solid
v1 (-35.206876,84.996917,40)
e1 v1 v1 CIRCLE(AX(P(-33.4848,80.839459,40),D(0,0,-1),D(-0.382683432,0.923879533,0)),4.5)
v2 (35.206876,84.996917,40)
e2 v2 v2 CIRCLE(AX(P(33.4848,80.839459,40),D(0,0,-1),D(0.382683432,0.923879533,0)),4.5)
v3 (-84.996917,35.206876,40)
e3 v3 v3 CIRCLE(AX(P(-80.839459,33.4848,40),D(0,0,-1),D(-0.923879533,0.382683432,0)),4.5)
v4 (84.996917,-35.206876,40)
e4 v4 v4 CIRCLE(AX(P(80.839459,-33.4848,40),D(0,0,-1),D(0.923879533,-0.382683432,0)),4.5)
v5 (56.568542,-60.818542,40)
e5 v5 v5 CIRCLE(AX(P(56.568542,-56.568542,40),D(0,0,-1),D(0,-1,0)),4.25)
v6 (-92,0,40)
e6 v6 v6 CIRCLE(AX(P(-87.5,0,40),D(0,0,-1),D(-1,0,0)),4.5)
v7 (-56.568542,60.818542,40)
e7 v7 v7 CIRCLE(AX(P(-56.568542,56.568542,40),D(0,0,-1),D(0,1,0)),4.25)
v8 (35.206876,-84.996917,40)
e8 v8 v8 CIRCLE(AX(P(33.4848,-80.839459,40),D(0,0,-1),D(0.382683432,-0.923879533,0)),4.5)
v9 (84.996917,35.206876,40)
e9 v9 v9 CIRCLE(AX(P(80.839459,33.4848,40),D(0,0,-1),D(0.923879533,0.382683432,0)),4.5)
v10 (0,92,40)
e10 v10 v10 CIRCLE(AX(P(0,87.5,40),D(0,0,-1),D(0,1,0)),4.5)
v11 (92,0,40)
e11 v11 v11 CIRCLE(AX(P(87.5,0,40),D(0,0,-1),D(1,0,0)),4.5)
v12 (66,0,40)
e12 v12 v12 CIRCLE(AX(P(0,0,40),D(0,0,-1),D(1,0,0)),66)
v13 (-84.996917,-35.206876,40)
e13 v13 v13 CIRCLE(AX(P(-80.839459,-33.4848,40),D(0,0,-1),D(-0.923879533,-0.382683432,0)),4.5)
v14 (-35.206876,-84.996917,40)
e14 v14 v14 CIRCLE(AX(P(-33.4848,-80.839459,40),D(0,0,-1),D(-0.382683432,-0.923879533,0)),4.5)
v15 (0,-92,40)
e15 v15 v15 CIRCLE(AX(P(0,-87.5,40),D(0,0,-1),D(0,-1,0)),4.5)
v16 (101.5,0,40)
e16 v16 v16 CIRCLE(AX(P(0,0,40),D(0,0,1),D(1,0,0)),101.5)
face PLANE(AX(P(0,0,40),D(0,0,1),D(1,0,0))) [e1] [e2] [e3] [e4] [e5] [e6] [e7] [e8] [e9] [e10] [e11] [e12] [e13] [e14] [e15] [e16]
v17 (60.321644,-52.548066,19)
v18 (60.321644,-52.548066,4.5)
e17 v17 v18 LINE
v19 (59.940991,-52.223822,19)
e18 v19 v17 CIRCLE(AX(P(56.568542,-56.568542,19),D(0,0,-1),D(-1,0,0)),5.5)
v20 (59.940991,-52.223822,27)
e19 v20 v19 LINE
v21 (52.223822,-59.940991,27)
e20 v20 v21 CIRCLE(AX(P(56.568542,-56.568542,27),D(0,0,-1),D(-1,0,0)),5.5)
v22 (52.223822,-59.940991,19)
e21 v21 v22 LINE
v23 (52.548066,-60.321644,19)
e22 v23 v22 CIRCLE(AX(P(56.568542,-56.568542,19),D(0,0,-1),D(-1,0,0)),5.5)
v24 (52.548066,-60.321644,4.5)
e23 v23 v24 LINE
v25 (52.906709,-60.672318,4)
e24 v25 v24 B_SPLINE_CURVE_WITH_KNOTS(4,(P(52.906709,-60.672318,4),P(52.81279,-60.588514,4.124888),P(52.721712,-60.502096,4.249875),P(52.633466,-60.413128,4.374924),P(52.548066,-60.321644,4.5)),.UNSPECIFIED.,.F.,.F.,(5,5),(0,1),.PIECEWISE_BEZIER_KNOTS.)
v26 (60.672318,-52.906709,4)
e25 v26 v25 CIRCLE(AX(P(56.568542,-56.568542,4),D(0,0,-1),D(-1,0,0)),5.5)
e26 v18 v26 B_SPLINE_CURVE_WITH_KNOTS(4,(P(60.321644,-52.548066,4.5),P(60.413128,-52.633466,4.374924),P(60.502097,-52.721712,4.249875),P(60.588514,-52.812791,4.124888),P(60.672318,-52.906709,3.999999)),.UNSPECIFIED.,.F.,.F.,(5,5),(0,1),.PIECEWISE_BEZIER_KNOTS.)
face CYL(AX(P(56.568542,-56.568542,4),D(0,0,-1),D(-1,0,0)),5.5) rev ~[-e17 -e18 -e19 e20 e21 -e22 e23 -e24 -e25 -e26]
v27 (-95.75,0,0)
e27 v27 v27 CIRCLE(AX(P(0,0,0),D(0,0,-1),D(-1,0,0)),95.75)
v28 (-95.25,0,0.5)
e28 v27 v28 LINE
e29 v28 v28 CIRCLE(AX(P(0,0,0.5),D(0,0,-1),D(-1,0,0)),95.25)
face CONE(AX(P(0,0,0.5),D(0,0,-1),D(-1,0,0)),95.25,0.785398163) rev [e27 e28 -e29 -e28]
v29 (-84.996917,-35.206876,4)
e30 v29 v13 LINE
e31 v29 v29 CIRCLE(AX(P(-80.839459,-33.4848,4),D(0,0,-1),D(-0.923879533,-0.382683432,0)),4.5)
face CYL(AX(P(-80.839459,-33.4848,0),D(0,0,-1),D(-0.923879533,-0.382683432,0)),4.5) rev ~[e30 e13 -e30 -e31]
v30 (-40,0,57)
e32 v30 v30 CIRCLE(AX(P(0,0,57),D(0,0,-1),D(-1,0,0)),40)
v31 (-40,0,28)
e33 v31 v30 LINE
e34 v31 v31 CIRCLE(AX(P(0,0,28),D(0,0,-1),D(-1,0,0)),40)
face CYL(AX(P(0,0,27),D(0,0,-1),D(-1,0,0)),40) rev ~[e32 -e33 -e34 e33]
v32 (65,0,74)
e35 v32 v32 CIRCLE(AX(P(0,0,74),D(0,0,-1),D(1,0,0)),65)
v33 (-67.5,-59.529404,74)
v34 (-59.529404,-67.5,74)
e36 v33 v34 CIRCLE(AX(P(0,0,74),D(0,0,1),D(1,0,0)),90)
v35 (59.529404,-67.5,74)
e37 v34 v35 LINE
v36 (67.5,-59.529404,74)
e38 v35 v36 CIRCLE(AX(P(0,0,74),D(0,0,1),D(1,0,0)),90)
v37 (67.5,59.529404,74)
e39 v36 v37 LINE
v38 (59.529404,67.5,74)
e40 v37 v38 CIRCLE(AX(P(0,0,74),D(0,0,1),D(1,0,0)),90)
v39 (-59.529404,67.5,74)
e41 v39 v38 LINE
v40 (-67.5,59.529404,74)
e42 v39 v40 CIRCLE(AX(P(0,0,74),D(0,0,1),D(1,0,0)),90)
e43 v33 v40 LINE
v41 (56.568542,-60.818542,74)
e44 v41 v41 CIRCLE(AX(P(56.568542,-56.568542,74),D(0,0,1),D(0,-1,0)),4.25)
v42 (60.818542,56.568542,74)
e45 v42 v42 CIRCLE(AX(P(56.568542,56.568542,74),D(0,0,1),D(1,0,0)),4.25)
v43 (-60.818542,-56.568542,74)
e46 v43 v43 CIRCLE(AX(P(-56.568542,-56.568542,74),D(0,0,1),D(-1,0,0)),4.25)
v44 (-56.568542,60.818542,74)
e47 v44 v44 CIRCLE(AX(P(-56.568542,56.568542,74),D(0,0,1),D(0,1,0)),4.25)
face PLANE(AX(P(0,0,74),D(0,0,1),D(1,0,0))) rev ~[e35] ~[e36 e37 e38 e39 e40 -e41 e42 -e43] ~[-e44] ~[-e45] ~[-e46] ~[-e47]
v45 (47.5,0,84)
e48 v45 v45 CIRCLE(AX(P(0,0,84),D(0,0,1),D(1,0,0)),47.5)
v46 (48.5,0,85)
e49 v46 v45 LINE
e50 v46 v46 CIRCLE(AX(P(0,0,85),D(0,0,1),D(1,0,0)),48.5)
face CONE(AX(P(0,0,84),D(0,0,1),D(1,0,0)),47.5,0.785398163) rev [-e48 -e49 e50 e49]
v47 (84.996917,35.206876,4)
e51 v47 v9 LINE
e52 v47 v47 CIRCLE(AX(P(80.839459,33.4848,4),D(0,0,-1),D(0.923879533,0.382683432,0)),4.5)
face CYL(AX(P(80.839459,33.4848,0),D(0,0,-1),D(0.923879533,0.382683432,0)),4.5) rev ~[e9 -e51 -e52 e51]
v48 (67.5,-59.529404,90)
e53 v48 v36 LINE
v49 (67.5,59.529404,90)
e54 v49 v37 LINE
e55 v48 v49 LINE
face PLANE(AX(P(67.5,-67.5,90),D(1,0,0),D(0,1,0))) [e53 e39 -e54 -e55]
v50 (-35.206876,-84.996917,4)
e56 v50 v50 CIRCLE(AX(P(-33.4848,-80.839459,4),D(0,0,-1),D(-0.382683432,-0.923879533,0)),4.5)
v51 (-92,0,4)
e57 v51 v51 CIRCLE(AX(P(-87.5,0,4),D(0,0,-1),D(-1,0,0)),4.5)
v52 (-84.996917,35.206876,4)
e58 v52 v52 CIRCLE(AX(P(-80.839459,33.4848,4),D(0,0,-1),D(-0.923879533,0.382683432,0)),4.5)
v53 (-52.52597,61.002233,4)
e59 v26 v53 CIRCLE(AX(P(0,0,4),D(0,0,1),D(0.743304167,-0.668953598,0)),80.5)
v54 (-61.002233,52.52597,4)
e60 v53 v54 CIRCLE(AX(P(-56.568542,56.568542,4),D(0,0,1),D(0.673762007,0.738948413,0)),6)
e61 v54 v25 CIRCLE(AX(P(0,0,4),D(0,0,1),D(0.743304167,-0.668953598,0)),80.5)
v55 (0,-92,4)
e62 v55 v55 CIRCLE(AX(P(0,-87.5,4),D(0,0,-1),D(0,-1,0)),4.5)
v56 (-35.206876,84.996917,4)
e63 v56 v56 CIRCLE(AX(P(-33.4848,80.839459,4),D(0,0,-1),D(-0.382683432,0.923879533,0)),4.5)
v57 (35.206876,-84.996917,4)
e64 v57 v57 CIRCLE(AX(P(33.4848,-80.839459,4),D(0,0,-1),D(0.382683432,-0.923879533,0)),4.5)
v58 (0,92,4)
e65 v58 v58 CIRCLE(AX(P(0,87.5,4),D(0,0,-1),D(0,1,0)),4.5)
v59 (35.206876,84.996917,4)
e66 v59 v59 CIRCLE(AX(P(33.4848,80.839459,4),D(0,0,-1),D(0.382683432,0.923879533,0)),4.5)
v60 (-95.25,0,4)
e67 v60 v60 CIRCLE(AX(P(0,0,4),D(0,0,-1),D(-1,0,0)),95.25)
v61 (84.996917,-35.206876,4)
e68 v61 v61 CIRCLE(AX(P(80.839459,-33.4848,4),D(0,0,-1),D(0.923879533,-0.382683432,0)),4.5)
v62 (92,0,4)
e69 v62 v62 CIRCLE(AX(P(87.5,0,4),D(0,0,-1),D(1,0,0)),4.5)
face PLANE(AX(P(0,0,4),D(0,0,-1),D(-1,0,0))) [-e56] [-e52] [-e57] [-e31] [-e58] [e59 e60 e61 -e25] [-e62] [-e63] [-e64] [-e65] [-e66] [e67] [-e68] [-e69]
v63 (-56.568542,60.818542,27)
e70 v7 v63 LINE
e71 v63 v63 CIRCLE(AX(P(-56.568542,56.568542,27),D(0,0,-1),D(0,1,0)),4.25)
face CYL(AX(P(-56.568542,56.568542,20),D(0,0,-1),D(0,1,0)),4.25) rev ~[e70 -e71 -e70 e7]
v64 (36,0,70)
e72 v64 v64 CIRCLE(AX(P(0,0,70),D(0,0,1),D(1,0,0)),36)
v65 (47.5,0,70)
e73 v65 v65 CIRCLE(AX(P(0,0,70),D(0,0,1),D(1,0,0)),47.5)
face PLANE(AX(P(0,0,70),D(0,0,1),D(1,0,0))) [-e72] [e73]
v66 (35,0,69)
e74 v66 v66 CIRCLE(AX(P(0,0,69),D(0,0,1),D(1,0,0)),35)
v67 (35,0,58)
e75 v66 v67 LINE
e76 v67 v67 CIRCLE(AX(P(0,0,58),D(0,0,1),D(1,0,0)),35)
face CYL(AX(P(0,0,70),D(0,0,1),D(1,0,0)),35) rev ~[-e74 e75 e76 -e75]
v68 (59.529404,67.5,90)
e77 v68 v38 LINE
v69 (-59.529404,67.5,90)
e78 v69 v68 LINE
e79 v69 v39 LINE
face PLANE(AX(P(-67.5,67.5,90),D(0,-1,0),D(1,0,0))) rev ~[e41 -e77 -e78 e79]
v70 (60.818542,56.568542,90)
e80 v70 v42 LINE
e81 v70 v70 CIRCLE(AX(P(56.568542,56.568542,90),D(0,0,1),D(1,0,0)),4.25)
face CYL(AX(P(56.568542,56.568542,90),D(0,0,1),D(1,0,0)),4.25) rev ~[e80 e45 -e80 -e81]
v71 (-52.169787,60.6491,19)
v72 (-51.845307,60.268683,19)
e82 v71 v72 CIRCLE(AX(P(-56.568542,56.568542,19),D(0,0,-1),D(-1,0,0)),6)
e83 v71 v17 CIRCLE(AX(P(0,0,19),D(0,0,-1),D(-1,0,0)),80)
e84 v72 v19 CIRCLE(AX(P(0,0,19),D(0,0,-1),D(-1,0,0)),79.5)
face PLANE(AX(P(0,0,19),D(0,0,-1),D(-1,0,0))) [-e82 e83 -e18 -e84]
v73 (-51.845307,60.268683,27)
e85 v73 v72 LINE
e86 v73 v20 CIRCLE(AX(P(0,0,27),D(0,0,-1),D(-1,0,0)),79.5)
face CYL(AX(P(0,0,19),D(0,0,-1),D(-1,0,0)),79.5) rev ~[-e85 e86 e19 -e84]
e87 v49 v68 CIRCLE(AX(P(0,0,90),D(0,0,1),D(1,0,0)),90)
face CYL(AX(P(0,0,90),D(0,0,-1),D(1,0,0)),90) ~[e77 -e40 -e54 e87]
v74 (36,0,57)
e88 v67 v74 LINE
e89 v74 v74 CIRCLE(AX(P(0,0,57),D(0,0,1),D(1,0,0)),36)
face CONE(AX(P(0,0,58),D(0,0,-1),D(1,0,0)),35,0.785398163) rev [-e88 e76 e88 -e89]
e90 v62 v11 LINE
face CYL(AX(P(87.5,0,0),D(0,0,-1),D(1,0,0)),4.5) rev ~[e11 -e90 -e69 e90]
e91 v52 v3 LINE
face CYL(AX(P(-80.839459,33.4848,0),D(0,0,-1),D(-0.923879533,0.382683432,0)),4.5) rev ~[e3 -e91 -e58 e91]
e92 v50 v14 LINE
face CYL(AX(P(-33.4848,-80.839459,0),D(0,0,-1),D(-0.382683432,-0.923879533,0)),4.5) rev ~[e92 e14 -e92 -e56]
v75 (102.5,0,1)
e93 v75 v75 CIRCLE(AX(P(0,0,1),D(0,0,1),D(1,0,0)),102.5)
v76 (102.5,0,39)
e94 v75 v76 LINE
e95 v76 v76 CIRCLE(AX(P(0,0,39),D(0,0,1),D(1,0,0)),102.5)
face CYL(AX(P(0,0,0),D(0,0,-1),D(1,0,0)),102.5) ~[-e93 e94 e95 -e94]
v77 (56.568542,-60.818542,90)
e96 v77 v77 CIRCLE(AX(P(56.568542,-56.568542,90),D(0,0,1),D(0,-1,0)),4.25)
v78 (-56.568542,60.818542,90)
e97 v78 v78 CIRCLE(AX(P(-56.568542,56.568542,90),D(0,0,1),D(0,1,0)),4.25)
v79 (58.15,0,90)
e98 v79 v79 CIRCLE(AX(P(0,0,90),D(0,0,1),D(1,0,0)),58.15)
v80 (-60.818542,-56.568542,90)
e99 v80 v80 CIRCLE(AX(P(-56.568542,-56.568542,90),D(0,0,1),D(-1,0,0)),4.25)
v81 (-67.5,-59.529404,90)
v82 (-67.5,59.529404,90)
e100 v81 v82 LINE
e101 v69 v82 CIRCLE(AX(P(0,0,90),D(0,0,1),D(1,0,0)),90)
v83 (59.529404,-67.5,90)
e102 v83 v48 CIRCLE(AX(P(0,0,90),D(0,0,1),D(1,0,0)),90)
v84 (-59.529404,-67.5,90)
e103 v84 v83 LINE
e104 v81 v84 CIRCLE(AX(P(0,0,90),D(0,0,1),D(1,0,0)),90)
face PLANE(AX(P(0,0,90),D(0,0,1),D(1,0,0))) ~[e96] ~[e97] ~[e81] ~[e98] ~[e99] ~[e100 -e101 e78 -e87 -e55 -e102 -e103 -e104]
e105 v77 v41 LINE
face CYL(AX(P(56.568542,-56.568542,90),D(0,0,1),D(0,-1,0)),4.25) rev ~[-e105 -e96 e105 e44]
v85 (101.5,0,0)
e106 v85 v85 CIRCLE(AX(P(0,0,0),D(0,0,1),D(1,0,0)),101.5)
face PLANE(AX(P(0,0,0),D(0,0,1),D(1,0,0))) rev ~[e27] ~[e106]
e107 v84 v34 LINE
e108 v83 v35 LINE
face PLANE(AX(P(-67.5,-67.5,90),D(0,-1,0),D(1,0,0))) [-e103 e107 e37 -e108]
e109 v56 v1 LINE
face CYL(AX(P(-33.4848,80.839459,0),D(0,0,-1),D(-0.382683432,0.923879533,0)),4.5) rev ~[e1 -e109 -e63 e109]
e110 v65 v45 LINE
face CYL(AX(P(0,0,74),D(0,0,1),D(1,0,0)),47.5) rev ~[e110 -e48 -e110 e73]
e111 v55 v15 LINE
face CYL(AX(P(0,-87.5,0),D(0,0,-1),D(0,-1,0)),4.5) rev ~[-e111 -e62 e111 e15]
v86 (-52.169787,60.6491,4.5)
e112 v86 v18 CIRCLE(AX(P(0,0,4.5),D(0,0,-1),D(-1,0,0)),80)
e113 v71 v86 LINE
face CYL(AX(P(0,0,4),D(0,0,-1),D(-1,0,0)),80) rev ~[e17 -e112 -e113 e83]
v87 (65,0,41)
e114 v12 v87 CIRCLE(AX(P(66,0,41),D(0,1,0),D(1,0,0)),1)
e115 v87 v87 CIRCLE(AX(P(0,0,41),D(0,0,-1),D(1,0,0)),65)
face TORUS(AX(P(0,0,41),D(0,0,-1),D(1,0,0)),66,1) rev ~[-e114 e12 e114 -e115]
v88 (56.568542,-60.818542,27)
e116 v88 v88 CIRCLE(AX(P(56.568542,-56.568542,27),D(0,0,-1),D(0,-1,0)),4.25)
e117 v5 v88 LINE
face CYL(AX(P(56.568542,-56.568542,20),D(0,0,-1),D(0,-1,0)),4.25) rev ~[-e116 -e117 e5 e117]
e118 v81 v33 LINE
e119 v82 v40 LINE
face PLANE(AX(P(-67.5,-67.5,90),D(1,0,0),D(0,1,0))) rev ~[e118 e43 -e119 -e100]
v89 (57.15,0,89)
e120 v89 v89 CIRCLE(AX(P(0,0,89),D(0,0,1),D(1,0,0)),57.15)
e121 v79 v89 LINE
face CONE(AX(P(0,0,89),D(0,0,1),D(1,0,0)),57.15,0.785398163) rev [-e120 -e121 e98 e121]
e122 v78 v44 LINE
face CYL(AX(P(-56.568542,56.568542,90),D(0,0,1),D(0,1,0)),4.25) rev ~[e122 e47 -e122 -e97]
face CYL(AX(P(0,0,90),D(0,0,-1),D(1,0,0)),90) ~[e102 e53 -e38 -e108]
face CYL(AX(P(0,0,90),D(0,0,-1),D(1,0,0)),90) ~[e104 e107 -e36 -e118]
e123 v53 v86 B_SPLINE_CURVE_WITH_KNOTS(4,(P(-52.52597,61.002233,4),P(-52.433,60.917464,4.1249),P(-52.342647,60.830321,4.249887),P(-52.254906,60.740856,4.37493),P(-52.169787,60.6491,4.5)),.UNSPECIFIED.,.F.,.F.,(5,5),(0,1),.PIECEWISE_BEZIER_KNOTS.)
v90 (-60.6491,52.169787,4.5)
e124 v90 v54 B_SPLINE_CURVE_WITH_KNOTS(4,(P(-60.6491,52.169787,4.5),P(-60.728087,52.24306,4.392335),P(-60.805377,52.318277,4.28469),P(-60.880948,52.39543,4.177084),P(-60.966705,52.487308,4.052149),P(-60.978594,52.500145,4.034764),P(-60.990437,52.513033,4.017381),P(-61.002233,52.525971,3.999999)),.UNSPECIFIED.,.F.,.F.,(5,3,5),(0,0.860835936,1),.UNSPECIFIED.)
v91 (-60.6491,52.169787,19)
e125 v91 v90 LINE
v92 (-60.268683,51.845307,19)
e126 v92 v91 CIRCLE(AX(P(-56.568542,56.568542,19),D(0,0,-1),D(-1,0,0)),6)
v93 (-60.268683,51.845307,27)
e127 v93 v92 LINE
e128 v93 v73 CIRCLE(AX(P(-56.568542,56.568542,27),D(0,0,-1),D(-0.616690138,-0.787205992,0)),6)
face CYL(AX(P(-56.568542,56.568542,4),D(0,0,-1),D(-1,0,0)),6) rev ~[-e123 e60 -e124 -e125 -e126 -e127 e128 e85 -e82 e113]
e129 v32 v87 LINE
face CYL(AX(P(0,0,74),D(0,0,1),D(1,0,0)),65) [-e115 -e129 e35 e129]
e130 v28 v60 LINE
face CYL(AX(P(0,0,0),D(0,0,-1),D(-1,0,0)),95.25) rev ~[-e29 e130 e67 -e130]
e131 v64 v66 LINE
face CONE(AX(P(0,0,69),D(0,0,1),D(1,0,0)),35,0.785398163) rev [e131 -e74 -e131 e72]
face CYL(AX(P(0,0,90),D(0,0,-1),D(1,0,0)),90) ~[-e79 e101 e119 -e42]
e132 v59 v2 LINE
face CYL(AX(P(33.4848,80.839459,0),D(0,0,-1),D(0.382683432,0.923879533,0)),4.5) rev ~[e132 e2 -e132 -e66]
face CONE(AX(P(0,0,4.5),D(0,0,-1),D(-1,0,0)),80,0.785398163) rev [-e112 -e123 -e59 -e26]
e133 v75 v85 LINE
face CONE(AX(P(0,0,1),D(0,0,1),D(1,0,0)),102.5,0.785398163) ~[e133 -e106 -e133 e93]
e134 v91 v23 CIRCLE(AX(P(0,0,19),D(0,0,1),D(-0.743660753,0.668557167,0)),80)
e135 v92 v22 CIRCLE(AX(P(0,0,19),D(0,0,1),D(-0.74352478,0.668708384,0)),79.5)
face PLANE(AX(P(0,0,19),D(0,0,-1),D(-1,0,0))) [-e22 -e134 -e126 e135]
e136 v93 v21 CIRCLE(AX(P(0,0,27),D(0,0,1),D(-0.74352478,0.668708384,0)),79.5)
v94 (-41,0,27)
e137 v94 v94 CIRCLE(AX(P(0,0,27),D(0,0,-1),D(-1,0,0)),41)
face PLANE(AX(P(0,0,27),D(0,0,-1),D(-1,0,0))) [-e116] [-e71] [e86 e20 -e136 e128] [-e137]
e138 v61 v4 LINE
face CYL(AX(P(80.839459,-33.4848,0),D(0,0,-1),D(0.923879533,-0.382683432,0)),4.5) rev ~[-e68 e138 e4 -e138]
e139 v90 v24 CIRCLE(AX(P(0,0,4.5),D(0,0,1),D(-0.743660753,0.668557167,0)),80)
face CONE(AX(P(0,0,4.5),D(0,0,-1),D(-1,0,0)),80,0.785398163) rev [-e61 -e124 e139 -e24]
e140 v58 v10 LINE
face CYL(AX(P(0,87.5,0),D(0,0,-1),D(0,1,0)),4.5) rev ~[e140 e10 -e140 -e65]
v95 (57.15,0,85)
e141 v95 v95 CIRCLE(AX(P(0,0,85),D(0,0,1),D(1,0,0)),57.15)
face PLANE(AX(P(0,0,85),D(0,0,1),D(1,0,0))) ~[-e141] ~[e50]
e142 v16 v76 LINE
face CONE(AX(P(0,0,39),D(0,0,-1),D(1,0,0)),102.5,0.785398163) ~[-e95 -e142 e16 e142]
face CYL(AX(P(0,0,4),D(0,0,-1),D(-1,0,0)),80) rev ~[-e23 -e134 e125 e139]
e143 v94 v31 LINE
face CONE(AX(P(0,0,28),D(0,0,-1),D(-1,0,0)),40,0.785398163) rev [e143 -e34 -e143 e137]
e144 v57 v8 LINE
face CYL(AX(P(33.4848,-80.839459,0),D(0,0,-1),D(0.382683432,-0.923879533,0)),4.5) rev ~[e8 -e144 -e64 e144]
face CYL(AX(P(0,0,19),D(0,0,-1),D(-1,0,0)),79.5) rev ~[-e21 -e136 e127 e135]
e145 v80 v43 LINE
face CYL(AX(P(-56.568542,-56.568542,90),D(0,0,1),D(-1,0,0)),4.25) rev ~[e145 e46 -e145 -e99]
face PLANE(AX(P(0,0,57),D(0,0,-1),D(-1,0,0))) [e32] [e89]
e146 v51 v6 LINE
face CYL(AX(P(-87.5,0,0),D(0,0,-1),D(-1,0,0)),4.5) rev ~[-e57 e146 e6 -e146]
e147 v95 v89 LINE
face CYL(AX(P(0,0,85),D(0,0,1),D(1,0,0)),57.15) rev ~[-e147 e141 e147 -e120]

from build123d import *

# Parameters (mm, degrees)
SKETCH_1_R               = 102.5
EXTRUDE_1_DEPTH          = 40
SKETCH_3_R               = 95.25
CUT_EXTRUDE_1_DEPTH      = 4
SKETCH_5_R               = 80
CUT_EXTRUDE_3_DEPTH      = 15
SKETCH_6_W               = 130
SKETCH_6_H               = 130
EXTRUDE_2_DEPTH          = 34
SKETCH_7_R               = 47.5
CUT_EXTRUDE_4_DEPTH      = 4
CHAMFER_1_SIZE           = 10
SKETCH_8_R               = 35
CUT_EXTRUDE_5_DEPTH      = 161.97360032
SKETCH_9_R               = 79.5
CUT_EXTRUDE_7_DEPTH      = 8
SKETCH_14_R              = 4.5
CUT_EXTRUDE_8_DEPTH      = 163.752880159
PATTERN_CIRCULAR_1_COUNT = 16
SKETCH_17_W              = 4.25
SKETCH_17_H              = 40
CHAMFER_3_SIZE           = 0.5
CHAMFER_4_SIZE           = 0.5
SKETCH_21_OUTSIDE_W      = 266.842
SKETCH_21_OUTSIDE_H      = 266.842
SKETCH_21_OUTSIDE_R      = 65
CUT_EXTRUDE_11_DEPTH     = 34
FILLET_1_R               = 1
SKETCH_22_R              = 40
CUT_EXTRUDE_12_DEPTH     = 30
PATTERN_CIRCULAR_3_COUNT = 2
SKETCH_26_OUTSIDE_W      = 267.712
SKETCH_26_OUTSIDE_H      = 267.712
SKETCH_26_OUTSIDE_W_2    = 135
SKETCH_26_OUTSIDE_H_2    = 135
CUT_EXTRUDE_13_DEPTH     = 16
HOLE_WIZARD_M10_2_REACH  = 172.624
HOLE_WIZARD_M10_2_BORE_R = 4.25
PATTERN_CIRCULAR_4_COUNT = 4
CHAMFER_6_SIZE           = 1
CHAMFER_7_SIZE           = 1
CUT_EXTRUDE_14_REACH     = 170.548
SKETCH_29_R              = 5.5
SKETCH_29_R_2            = 6


with BuildPart() as part:
    # 草图1 → 凸台-拉伸1 (new body)
    with BuildSketch(Plane.XY):
        Circle(SKETCH_1_R)
    extrude(amount=EXTRUDE_1_DEPTH)

    # 草图3 → 切除-拉伸1 (cut)
    with BuildSketch(Plane(origin=(0, 0, 0), x_dir=(-1, 0, 0), z_dir=(0, 0, -1))):
        Circle(SKETCH_3_R)
    extrude(amount=-CUT_EXTRUDE_1_DEPTH, mode=Mode.SUBTRACT)

    # 草图5 → 切除-拉伸3 (cut)
    with BuildSketch(Plane(origin=(0, 0, 4), x_dir=(-1, 0, 0), z_dir=(0, 0, -1))):
        Circle(SKETCH_5_R)
    extrude(amount=-CUT_EXTRUDE_3_DEPTH, mode=Mode.SUBTRACT)

    # 草图6 → 凸台-拉伸2 (add)
    with BuildSketch(Plane.XY.offset(40)):
        Rectangle(SKETCH_6_W, SKETCH_6_H)
    extrude(amount=EXTRUDE_2_DEPTH)

    # 草图7 → 切除-拉伸4 (cut)
    with BuildSketch(Plane.XY.offset(74)):
        Circle(SKETCH_7_R)
    extrude(amount=-CUT_EXTRUDE_4_DEPTH, mode=Mode.SUBTRACT)

    # 倒角1
    chamfer_1_edges = [part.edges().sort_by_distance(p)[0] for p in [
        (-65, 65, 57),
        (-65, -65, 57),
        (65, -65, 57),
        (65, 65, 57),
    ]]
    chamfer(chamfer_1_edges, length=CHAMFER_1_SIZE)

    # 草图8 → 切除-拉伸5 (cut, through all)
    with BuildSketch(Plane.XY.offset(70)):
        Circle(SKETCH_8_R)
    extrude(amount=-CUT_EXTRUDE_5_DEPTH, mode=Mode.SUBTRACT)

    # 草图9 → 切除-拉伸7 (cut)
    with BuildSketch(Plane(origin=(0, 0, 19), x_dir=(-1, 0, 0), z_dir=(0, 0, -1))):
        Circle(SKETCH_9_R)
    extrude(amount=-CUT_EXTRUDE_7_DEPTH, mode=Mode.SUBTRACT)

    # 草图14 → 切除-拉伸8 (cut, through all)
    with BuildSketch(Plane(origin=(0, 0, 0), x_dir=(-1, 0, 0), z_dir=(0, 0, -1))):
        with Locations((87.5, 0)):
            Circle(SKETCH_14_R)
    cut_extrude_8 = extrude(amount=-CUT_EXTRUDE_8_DEPTH, mode=Mode.SUBTRACT)

    # 阵列(圆周)1: 切除-拉伸8 ×16 about axis, 4 skipped
    pattern_circular_1_axis = Axis((0, 0, 0), (0, 0, 1))
    add([cut_extrude_8.rotate(pattern_circular_1_axis, i * 360 / PATTERN_CIRCULAR_1_COUNT) for i in range(1, PATTERN_CIRCULAR_1_COUNT) if i not in (2, 6, 10, 14)], mode=Mode.SUBTRACT)

    # 草图17 → M10 螺纹孔1 (revolve, cut)
    with BuildSketch(Plane(origin=(56.568542495, -56.568542495, 40), x_dir=(0, -1, 0), z_dir=(1, 0, 0))):
        with Locations((2.125, 20)):
            Rectangle(SKETCH_17_W, SKETCH_17_H)
    hole_wizard_m10_1 = revolve(axis=Axis((56.568542495, -56.568542495, 46.35), (0, 0, -1)), mode=Mode.SUBTRACT)

    # 倒角3
    chamfer_3_edges = [part.edges().sort_by_distance(p)[0] for p in [
        (95.25, 0, 0),
    ]]
    chamfer(chamfer_3_edges, length=CHAMFER_3_SIZE)

    # 倒角4
    chamfer_4_edges = [part.edges().sort_by_distance(p)[0] for p in [
        (28.640628334, 74.697485959, 4),
    ]]
    chamfer(chamfer_4_edges, length=CHAMFER_4_SIZE)

    # 草图21 outside → 切除-拉伸11 (cut)
    with BuildSketch(Plane.XY.offset(74)):
        Rectangle(SKETCH_21_OUTSIDE_W, SKETCH_21_OUTSIDE_H)
        Circle(SKETCH_21_OUTSIDE_R, mode=Mode.SUBTRACT)
    extrude(amount=-CUT_EXTRUDE_11_DEPTH, mode=Mode.SUBTRACT)

    # 圆角1
    fillet_1_edges = [part.edges().sort_by_distance(p)[0] for p in [
        (-65, 0, 40),
    ]]
    fillet(fillet_1_edges, radius=FILLET_1_R)

    # 草图22 → 切除-拉伸12 (cut)
    with BuildSketch(Plane(origin=(0, 0, 27), x_dir=(-1, 0, 0), z_dir=(0, 0, -1))):
        Circle(SKETCH_22_R)
    extrude(amount=-CUT_EXTRUDE_12_DEPTH, mode=Mode.SUBTRACT)

    # 阵列(圆周)3: M10 螺纹孔1 ×2 about axis
    pattern_circular_3_axis = Axis((0, 0, 0), (0, 0, 1))
    for i in range(1, PATTERN_CIRCULAR_3_COUNT):
        add(hole_wizard_m10_1.rotate(pattern_circular_3_axis, i * 360 / PATTERN_CIRCULAR_3_COUNT), mode=Mode.SUBTRACT)

    # 草图24 → 旋转2 (revolve)
    with BuildSketch(Plane(origin=(0, 0, 0), x_dir=(1, 0, 0), z_dir=(0, 1, 0)), mode=Mode.PRIVATE) as revolve_2_sk:
        Polygon((-90, -74), (-47.5, -74), (-47.5, -85), (-57.15, -85), (-57.15, -90), (-90, -90), align=None)
    revolve(revolve_2_sk.sketch.rotate(Axis((0, 0, 0), (0, 0, 1)), 180), axis=Axis((0, 0, 0), (0, 0, 1)))

    # 草图26 outside → 切除-拉伸13 (cut)
    with BuildSketch(Plane.XY.offset(90)):
        Rectangle(SKETCH_26_OUTSIDE_W, SKETCH_26_OUTSIDE_H)
        Rectangle(SKETCH_26_OUTSIDE_W_2, SKETCH_26_OUTSIDE_H_2, mode=Mode.SUBTRACT)
    extrude(amount=-CUT_EXTRUDE_13_DEPTH, mode=Mode.SUBTRACT)

    # M10 螺纹孔2 bore → M10 螺纹孔2 (cut, up to next)
    with BuildSketch(Plane.XY.offset(90), mode=Mode.PRIVATE) as hole_wizard_m10_2_sk1:
        with Locations((56.568542495, 56.568542495)):
            Circle(HOLE_WIZARD_M10_2_BORE_R)
    hole_wizard_m10_2_tool1 = extrude(hole_wizard_m10_2_sk1.sketch, amount=-HOLE_WIZARD_M10_2_REACH, mode=Mode.PRIVATE) & part.part
    hole_wizard_m10_2 = hole_wizard_m10_2_tool1.solids().sort_by_distance((56.568542, 56.568542, 90))[0]
    add(hole_wizard_m10_2, mode=Mode.SUBTRACT)

    # 阵列(圆周)4: M10 螺纹孔2 ×4 about axis
    pattern_circular_4_axis = Axis((0, 0, 0), (0, 0, 1))
    for i in range(1, PATTERN_CIRCULAR_4_COUNT):
        add(hole_wizard_m10_2.rotate(pattern_circular_4_axis, i * 360 / PATTERN_CIRCULAR_4_COUNT), mode=Mode.SUBTRACT)

    # 倒角6
    chamfer_6_edges = [part.edges().sort_by_distance(p)[0] for p in [
        (40, 0, 27),
        (-35, 0, 57),
        (-57.15, 0, 90),
        (-47.5, 0, 85),
        (-35, 0, 70),
    ]]
    chamfer(chamfer_6_edges, length=CHAMFER_6_SIZE)

    # 倒角7
    chamfer_7_edges = [part.edges().sort_by_distance(p)[0] for p in [
        (-102.5, 0, 0),
        (-102.5, 0, 40),
    ]]
    chamfer(chamfer_7_edges, length=CHAMFER_7_SIZE)

    # 切除-拉伸14: up to this face of the body (flat: up to its plane)
    cut_extrude_14_end = Plane(part.part.faces().sort_by_distance((43.248599564, 0, 27))[0])
    # 草图29 → 切除-拉伸14 (cut, up to the picked face)
    with BuildSketch(Plane(origin=(0, 0, 4), x_dir=(-1, 0, 0), z_dir=(0, 0, -1)), mode=Mode.PRIVATE) as cut_extrude_14_sk1:
        with Locations((-56.568542495, -56.568542495)):
            Circle(SKETCH_29_R)
    cut_extrude_14_tool1 = split(extrude(cut_extrude_14_sk1.sketch, amount=-CUT_EXTRUDE_14_REACH, mode=Mode.PRIVATE), bisect_by=cut_extrude_14_end, keep=Keep.BOTH, mode=Mode.PRIVATE)
    # 草图29 → 切除-拉伸14 (cut, up to the picked face)
    with BuildSketch(Plane(origin=(0, 0, 4), x_dir=(-1, 0, 0), z_dir=(0, 0, -1)), mode=Mode.PRIVATE) as cut_extrude_14_sk2:
        with Locations((56.568542495, 56.568542495)):
            Circle(SKETCH_29_R_2)
    cut_extrude_14_tool2 = split(extrude(cut_extrude_14_sk2.sketch, amount=-CUT_EXTRUDE_14_REACH, mode=Mode.PRIVATE), bisect_by=cut_extrude_14_end, keep=Keep.BOTH, mode=Mode.PRIVATE)
    add(cut_extrude_14_tool1.solids().sort_by(Axis((56.568542, -56.568542, 4), (0, 0, 1)))[0], mode=Mode.SUBTRACT)
    add(cut_extrude_14_tool2.solids().sort_by(Axis((-56.568542, 56.568542, 4), (0, 0, 1)))[0], mode=Mode.SUBTRACT)


solid = part.part
